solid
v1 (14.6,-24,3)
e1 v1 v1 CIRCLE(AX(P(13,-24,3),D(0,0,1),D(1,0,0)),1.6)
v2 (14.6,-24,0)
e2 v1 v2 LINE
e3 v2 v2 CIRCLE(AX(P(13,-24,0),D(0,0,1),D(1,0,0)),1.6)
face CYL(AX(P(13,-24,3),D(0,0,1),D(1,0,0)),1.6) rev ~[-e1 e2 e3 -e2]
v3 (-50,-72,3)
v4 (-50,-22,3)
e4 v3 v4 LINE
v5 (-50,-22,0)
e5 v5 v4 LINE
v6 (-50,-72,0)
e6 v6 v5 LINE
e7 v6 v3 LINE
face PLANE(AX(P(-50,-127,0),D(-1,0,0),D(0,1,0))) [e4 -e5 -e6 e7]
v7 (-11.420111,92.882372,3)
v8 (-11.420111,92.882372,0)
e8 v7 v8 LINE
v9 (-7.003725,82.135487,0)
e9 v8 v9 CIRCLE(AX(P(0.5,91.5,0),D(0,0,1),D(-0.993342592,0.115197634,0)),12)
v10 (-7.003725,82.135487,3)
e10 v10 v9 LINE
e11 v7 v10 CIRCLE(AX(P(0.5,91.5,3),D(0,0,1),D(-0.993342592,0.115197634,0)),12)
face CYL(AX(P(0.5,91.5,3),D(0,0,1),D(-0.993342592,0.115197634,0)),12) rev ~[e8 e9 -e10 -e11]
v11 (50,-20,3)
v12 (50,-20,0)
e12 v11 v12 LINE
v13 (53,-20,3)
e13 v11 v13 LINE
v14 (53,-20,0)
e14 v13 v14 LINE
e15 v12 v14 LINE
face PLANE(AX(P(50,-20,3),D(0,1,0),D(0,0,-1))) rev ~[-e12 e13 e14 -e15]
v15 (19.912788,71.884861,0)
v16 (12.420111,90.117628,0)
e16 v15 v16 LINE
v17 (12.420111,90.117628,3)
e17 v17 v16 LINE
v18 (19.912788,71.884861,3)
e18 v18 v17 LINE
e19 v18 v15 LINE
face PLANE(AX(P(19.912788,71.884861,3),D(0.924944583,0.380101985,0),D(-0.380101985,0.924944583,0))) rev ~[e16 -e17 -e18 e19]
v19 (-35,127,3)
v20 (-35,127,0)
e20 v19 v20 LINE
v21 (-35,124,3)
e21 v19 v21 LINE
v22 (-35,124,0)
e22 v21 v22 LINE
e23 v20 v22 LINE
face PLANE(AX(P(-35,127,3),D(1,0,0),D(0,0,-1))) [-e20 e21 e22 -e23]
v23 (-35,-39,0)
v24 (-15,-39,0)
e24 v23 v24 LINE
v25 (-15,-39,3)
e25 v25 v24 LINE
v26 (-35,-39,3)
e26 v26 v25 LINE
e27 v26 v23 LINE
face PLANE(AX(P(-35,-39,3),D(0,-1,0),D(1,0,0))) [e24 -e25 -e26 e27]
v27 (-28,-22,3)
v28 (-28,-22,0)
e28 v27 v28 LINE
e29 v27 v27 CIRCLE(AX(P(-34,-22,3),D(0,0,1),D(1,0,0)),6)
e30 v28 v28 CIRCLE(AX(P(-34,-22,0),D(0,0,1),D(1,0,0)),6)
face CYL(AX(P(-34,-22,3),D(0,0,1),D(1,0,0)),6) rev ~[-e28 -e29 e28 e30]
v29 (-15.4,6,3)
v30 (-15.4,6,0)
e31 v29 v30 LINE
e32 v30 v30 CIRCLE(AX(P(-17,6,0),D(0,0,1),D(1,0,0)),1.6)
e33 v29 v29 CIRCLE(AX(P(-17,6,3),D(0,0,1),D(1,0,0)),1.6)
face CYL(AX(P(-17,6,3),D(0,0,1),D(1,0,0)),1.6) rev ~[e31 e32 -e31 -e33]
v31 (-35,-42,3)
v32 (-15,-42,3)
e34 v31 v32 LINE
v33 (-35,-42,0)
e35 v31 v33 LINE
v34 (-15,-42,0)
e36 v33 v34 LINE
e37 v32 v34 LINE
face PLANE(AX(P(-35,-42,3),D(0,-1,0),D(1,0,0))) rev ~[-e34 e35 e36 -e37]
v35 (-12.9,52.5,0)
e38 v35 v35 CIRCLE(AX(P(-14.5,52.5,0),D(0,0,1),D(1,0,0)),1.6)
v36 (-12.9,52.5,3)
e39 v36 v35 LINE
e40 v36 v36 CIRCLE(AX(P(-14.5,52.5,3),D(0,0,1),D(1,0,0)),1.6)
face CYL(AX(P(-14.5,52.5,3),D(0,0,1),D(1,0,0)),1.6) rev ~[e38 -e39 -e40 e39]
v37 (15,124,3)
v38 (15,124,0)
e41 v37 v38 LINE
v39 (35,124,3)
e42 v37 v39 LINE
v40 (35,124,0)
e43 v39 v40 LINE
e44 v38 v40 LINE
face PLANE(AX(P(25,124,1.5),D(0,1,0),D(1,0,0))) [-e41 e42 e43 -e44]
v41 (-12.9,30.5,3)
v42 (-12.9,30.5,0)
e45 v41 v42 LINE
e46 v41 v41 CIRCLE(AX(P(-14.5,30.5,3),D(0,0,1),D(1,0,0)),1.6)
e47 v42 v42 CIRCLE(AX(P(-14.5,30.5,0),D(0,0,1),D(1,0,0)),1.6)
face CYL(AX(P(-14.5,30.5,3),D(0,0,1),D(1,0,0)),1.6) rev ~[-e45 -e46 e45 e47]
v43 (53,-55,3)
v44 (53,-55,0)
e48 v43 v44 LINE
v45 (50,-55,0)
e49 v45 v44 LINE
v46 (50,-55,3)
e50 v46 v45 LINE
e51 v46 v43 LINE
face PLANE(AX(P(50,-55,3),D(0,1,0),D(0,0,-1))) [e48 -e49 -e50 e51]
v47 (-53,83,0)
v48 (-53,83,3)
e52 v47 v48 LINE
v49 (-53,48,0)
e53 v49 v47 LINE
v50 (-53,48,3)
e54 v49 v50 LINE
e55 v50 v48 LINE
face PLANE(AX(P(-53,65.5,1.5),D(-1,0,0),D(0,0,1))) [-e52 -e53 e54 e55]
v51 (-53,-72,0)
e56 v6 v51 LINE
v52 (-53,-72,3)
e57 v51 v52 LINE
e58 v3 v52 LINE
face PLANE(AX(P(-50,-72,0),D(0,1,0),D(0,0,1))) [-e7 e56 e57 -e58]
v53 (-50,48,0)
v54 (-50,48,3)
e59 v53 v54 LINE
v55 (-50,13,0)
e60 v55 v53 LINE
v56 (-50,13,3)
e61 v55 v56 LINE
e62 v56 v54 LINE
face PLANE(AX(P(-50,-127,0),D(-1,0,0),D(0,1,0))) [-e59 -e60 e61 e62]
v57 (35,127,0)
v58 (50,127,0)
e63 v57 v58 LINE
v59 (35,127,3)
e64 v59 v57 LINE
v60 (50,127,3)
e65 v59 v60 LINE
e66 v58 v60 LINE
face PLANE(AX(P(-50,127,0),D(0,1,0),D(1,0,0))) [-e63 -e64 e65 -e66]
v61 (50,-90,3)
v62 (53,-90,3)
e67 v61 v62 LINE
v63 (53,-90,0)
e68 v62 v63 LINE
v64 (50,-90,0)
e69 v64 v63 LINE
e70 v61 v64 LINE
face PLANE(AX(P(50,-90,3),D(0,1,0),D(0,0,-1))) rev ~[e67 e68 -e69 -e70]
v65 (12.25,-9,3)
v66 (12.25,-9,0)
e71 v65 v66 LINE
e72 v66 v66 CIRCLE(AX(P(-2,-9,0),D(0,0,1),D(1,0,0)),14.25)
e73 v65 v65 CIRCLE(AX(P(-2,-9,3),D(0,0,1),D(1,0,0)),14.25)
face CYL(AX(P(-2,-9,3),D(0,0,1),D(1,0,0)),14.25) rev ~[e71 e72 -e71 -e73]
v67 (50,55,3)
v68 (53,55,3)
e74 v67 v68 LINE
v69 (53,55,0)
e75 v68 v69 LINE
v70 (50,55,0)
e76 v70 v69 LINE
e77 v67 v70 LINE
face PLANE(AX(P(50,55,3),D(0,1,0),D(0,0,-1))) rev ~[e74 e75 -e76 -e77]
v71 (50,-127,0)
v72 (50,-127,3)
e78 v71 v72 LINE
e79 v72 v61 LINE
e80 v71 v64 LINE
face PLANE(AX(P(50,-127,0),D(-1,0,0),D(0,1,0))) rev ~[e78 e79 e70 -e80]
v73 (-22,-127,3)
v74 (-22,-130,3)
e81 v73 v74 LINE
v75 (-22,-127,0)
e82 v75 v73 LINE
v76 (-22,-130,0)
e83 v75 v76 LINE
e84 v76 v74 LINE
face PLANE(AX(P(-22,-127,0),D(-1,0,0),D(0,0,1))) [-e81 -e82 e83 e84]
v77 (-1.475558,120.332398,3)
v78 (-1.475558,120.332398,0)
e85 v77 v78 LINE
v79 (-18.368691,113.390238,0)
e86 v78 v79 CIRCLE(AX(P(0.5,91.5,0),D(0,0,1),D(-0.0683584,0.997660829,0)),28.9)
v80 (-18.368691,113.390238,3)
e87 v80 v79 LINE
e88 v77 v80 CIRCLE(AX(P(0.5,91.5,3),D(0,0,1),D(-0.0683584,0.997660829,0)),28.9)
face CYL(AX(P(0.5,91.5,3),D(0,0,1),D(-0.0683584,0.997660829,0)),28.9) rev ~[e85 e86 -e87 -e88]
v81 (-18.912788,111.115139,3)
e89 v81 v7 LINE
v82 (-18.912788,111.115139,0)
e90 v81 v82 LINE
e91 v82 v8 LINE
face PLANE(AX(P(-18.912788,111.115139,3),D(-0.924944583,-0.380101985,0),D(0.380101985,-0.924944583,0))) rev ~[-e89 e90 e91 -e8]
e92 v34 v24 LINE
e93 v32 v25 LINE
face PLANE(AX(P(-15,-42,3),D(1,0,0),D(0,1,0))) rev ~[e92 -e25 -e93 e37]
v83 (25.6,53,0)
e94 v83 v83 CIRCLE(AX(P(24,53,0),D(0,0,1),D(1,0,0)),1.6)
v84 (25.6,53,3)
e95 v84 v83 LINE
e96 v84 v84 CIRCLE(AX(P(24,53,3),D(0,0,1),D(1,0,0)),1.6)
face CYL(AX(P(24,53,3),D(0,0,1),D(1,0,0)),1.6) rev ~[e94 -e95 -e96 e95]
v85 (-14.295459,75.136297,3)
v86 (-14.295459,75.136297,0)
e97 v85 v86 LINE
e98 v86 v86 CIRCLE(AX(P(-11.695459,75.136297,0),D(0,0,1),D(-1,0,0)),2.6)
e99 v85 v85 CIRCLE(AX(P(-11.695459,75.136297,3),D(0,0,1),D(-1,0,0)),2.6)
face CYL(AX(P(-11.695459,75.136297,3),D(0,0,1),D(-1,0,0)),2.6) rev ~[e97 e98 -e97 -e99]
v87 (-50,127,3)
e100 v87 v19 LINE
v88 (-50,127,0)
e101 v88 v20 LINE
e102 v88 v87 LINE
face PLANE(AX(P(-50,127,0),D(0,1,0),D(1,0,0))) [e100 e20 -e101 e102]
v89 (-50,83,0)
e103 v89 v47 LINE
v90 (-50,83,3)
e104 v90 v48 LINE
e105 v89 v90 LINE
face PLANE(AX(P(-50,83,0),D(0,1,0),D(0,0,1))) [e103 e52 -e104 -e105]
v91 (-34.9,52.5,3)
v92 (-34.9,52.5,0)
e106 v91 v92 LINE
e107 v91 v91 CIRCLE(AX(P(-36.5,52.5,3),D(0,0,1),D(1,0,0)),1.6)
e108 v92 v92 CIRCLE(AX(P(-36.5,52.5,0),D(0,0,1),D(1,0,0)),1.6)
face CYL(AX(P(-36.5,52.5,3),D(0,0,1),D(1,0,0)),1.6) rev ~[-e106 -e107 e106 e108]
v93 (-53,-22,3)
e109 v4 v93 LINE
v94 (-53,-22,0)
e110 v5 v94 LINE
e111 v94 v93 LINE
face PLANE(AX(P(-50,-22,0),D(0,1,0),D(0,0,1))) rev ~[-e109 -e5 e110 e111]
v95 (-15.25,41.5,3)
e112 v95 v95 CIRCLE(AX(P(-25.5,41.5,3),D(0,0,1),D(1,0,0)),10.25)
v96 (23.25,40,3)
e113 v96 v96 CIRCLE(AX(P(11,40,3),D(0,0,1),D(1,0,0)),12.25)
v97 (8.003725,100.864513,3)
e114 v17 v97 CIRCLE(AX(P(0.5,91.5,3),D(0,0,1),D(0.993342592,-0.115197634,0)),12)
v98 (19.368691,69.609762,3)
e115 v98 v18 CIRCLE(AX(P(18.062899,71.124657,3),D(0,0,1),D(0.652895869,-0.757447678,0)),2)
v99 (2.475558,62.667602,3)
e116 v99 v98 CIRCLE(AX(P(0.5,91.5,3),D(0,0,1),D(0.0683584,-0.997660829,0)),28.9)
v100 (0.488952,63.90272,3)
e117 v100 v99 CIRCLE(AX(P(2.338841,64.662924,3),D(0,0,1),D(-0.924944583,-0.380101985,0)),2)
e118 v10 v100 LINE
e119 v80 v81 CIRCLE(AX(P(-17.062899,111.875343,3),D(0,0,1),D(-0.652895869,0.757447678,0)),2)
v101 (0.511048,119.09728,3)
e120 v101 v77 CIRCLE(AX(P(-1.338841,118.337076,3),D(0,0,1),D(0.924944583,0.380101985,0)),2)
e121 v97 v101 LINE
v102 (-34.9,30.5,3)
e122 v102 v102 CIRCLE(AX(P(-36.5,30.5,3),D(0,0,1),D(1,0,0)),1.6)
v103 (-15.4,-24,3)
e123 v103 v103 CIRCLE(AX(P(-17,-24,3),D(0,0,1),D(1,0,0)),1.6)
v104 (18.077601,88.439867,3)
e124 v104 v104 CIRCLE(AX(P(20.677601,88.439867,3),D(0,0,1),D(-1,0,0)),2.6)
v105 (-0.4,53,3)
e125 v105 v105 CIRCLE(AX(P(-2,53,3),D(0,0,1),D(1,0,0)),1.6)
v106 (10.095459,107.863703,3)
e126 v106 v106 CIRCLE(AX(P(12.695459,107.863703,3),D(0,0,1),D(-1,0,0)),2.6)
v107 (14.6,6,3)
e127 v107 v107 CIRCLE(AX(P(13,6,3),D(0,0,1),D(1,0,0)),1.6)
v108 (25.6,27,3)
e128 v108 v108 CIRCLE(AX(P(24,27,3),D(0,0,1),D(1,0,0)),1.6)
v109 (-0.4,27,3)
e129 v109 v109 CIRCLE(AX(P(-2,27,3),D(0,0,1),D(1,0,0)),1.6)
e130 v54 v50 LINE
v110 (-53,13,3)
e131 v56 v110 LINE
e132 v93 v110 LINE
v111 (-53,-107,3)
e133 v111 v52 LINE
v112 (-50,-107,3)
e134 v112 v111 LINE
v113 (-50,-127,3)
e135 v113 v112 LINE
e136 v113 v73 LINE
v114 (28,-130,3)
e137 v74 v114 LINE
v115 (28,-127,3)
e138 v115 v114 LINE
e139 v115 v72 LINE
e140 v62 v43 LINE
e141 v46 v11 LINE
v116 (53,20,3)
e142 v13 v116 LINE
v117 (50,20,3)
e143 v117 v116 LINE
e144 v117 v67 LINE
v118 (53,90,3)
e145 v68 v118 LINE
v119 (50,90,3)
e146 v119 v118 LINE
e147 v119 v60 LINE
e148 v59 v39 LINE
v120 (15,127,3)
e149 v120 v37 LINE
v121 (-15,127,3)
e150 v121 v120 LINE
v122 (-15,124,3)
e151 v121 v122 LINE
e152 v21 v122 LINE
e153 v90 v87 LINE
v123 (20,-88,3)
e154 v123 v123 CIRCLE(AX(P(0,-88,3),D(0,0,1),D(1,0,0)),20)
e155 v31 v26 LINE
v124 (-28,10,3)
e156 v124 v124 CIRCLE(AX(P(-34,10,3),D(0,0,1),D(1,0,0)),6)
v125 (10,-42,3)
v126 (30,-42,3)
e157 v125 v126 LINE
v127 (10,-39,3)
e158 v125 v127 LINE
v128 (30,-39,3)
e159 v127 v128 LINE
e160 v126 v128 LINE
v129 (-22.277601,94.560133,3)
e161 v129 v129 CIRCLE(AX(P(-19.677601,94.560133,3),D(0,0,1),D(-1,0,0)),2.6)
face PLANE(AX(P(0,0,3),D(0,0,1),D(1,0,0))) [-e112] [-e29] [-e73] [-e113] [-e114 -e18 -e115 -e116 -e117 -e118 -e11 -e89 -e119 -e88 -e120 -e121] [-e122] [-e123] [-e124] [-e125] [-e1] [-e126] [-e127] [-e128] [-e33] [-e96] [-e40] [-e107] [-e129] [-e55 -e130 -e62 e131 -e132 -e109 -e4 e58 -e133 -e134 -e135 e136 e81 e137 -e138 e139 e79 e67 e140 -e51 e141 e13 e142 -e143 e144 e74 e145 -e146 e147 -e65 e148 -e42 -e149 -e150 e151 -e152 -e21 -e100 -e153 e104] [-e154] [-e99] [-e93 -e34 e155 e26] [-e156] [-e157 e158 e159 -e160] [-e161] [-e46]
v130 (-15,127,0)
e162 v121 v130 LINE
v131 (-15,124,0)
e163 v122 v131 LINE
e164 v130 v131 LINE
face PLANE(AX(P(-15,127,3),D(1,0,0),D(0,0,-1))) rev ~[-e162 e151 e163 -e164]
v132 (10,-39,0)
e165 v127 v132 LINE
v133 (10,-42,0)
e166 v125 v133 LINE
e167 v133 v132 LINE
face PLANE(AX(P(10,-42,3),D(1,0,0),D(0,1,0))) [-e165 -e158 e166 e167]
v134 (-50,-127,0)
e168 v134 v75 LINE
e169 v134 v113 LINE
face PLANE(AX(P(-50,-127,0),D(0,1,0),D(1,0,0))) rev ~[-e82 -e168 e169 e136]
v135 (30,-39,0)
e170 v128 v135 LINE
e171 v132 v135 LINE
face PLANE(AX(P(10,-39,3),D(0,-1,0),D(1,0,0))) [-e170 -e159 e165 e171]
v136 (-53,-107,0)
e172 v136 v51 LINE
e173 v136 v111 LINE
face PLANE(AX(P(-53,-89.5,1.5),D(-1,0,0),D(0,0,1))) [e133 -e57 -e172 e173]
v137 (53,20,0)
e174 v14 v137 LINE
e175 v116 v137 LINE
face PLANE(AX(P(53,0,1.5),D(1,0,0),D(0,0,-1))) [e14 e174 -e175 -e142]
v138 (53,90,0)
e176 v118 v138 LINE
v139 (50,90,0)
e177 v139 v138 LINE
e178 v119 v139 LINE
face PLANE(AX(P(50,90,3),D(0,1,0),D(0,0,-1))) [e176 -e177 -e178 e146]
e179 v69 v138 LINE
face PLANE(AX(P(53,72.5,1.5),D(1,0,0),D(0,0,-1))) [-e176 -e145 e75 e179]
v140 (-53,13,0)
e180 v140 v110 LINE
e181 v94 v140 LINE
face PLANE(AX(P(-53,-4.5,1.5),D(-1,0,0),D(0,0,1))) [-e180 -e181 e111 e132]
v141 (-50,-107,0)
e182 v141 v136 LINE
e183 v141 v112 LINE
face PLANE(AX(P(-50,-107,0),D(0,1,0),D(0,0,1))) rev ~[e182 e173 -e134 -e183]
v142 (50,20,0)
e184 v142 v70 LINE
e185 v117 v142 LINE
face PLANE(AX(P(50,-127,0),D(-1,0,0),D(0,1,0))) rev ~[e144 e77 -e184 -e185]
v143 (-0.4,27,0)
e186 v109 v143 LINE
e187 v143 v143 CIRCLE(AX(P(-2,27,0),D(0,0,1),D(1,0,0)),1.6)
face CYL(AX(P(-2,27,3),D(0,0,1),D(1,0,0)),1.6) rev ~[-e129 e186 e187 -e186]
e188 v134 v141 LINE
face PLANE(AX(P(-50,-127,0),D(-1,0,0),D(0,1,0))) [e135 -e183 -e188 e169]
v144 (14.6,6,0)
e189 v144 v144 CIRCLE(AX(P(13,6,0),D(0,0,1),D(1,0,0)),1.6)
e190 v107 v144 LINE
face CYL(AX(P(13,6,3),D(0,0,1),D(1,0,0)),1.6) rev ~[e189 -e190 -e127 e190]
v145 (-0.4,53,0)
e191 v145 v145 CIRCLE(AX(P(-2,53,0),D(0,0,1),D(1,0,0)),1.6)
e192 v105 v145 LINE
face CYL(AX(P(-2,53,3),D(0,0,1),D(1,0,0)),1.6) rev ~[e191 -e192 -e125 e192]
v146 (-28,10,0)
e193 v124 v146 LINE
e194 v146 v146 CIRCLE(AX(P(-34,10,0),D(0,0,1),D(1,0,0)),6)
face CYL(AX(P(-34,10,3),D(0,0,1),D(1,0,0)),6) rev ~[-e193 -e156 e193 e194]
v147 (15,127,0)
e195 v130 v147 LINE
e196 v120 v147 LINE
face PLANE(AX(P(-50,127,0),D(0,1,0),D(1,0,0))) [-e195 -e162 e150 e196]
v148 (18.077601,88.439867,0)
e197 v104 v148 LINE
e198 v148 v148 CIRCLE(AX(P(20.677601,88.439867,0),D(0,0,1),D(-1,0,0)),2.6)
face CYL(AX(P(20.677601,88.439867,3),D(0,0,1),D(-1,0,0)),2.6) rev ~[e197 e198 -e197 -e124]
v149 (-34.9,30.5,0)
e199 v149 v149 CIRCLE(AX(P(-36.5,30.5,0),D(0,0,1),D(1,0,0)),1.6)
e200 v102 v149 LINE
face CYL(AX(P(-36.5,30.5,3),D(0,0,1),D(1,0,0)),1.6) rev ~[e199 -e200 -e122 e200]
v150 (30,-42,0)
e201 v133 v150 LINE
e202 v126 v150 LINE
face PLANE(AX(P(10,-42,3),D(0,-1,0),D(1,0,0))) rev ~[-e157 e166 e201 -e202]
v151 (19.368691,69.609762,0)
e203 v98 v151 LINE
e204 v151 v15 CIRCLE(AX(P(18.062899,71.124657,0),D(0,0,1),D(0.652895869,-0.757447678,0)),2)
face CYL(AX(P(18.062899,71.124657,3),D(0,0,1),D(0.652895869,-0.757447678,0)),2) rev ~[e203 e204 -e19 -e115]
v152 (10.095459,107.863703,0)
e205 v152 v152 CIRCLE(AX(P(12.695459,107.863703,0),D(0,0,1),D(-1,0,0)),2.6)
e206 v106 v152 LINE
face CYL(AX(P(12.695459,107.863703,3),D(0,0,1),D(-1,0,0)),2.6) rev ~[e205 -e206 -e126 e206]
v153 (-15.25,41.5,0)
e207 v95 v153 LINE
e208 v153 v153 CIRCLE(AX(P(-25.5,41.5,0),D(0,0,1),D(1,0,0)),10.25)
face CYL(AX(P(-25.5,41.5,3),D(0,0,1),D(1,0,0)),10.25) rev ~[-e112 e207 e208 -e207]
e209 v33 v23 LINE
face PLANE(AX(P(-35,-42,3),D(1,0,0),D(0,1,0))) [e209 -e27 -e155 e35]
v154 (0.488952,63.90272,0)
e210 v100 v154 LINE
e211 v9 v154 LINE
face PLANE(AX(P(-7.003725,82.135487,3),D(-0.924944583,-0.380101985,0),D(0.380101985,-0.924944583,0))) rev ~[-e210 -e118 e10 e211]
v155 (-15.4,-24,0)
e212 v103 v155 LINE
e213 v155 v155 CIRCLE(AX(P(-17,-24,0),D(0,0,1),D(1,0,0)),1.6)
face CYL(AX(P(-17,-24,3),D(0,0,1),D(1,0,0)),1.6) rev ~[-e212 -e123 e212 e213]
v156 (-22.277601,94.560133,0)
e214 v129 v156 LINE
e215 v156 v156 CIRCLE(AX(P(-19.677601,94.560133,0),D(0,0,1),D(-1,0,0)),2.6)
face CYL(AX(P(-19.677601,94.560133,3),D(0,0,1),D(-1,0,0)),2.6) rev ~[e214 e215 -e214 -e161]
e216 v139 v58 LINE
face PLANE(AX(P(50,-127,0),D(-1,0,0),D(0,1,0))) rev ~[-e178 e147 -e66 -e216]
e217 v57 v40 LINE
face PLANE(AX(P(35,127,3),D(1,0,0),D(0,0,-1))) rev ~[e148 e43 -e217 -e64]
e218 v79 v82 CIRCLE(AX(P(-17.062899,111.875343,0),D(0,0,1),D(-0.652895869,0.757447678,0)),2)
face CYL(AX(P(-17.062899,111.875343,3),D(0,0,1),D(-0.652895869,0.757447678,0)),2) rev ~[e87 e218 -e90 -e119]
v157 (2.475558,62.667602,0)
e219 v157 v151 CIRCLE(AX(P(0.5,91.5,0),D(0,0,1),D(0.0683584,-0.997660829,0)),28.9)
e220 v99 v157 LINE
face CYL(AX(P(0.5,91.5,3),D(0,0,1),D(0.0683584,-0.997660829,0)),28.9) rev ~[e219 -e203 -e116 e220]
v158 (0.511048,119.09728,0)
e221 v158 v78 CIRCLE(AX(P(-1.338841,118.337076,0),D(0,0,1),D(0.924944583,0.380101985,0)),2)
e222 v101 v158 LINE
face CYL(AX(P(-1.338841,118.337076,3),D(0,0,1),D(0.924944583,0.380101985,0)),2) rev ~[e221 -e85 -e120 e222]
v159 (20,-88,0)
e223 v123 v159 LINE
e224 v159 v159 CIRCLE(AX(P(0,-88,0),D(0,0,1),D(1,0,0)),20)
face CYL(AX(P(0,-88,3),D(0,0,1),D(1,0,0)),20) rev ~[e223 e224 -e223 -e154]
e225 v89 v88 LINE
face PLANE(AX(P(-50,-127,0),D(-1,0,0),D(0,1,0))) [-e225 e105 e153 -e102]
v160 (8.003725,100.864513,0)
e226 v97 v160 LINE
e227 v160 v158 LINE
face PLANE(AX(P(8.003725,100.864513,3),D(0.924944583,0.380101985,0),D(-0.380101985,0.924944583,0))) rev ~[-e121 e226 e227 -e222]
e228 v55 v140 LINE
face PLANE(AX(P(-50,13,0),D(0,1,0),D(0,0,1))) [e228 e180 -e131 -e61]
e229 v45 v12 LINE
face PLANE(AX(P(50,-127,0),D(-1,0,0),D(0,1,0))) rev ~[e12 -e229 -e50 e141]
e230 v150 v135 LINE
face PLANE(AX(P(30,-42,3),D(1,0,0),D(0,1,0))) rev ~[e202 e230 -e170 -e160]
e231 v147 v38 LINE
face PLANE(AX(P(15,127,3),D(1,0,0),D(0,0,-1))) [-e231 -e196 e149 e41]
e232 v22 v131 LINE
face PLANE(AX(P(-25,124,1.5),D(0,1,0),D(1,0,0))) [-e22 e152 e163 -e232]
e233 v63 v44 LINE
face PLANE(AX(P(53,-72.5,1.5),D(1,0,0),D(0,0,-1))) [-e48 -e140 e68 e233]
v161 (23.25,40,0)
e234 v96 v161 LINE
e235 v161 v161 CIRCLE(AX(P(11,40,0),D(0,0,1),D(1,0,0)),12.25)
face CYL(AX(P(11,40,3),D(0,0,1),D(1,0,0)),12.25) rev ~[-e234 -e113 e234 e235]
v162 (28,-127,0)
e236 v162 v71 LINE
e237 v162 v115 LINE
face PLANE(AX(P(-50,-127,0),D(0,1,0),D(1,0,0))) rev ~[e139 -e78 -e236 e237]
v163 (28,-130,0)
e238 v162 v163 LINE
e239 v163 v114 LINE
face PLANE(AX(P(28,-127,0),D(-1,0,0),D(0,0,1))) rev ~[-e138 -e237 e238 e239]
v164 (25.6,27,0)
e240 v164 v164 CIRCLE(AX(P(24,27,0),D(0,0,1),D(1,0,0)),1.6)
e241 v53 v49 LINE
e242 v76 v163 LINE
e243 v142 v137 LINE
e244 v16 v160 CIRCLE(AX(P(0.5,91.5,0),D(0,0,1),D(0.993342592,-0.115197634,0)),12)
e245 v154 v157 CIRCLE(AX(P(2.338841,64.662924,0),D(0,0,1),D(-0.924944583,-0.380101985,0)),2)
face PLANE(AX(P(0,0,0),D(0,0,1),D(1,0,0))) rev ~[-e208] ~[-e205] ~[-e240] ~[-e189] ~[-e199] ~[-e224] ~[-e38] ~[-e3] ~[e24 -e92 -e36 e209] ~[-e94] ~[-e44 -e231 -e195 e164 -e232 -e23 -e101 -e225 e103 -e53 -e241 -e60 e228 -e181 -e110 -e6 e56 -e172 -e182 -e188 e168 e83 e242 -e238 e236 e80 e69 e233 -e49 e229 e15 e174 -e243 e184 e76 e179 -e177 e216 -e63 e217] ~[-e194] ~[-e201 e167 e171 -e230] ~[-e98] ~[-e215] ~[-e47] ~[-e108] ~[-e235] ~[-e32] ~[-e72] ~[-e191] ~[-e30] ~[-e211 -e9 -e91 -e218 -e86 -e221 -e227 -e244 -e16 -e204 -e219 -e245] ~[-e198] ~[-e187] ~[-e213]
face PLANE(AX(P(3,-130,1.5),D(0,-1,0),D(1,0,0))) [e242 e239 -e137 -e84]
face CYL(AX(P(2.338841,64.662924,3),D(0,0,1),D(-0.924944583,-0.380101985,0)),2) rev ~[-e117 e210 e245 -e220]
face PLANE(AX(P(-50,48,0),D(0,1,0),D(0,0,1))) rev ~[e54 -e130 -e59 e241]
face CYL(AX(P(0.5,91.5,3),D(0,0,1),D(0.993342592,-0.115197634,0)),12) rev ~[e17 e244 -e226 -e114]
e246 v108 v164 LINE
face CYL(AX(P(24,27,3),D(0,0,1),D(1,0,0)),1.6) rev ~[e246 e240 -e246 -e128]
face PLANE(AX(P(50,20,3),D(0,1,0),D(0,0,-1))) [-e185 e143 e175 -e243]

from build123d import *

# Parameters (mm, degrees)
SKETCH1_W           = 100
SKETCH1_H           = 254
BOSS_EXTRUDE1_DEPTH = 3
SKETCH2_W           = 3
SKETCH2_H           = 35
SKETCH2_H_2         = 40
BOSS_EXTRUDE2_DEPTH = 3
SKETCH3_W           = 20
SKETCH3_H           = 3
CUT_EXTRUDE1_DEPTH  = 3
SKETCH4_W           = 20
SKETCH4_H           = 3
CUT_EXTRUDE2_DEPTH  = 3
SKETCH5_R           = 20
SKETCH5_R_2         = 10.25
SKETCH5_R_3         = 1.6
SKETCH5_R_4         = 14.25
SKETCH5_R_5         = 12.25
SKETCH5_R_6         = 2.6
SKETCH5_R_7         = 6
CUT_EXTRUDE3_DEPTH  = 3
SKETCH6_W           = 50
SKETCH6_H           = 3
BOSS_EXTRUDE3_DEPTH = 3
SKETCH8_W           = 3
SKETCH8_H           = 35
BOSS_EXTRUDE4_DEPTH = 3


with BuildPart() as part:
    # Sketch1 → Boss-Extrude1 (new body)
    with BuildSketch(Plane.XY):
        Rectangle(SKETCH1_W, SKETCH1_H)
    extrude(amount=BOSS_EXTRUDE1_DEPTH)

    # Sketch2 → Boss-Extrude2 (add)
    with BuildSketch(Plane(origin=(50, 0, 0), x_dir=(0, 0, -1), z_dir=(1, 0, 0))):
        with Locations((-1.5, 72.5)):
            Rectangle(SKETCH2_W, SKETCH2_H)
        with Locations((-1.5, 0)):
            Rectangle(SKETCH2_W, SKETCH2_H_2)
        with Locations((-1.5, -72.5)):
            Rectangle(SKETCH2_W, SKETCH2_H)
    extrude(amount=BOSS_EXTRUDE2_DEPTH)

    # Sketch3 → Cut-Extrude1 (cut)
    with BuildSketch(Plane(origin=(0, 127, 0), x_dir=(1, 0, 0), z_dir=(0, 1, 0))):
        with Locations((25, -1.5)):
            Rectangle(SKETCH3_W, SKETCH3_H)
        with Locations((-25, -1.5)):
            Rectangle(SKETCH3_W, SKETCH3_H)
    extrude(amount=-CUT_EXTRUDE1_DEPTH, mode=Mode.SUBTRACT)

    # Sketch4 → Cut-Extrude2 (cut)
    with BuildSketch(Plane.XY.offset(3)):
        with Locations((-25, -40.5)):
            Rectangle(SKETCH4_W, SKETCH4_H)
        with Locations((20, -40.5)):
            Rectangle(SKETCH4_W, SKETCH4_H)
    extrude(amount=-CUT_EXTRUDE2_DEPTH, mode=Mode.SUBTRACT)

    # Sketch5 → Cut-Extrude3 (cut)
    with BuildSketch(Plane.XY.offset(3)):
        with Locations((0, -88)):
            Circle(SKETCH5_R)
        with Locations((-25.5, 41.5)):
            Circle(SKETCH5_R_2)
        with Locations((-36.5, 52.5)):
            Circle(SKETCH5_R_3)
        with Locations((-14.5, 52.5)):
            Circle(SKETCH5_R_3)
        with Locations((-36.5, 30.5)):
            Circle(SKETCH5_R_3)
        with Locations((-14.5, 30.5)):
            Circle(SKETCH5_R_3)
        with Locations((-17, 6)):
            Circle(SKETCH5_R_3)
        with Locations((13, 6)):
            Circle(SKETCH5_R_3)
        with Locations((-17, -24)):
            Circle(SKETCH5_R_3)
        with Locations((13, -24)):
            Circle(SKETCH5_R_3)
        with Locations((-2, -9)):
            Circle(SKETCH5_R_4)
        with Locations((11, 40)):
            Circle(SKETCH5_R_5)
        with Locations((-2, 53)):
            Circle(SKETCH5_R_3)
        with Locations((24, 53)):
            Circle(SKETCH5_R_3)
        with Locations((24, 27)):
            Circle(SKETCH5_R_3)
        with Locations((-2, 27)):
            Circle(SKETCH5_R_3)
        with Locations(Location((-19.67760104, 94.560133375, 0), (0, 0, 180))):
            Circle(SKETCH5_R_6)
        with Locations(Location((-11.69545935, 75.136297141, 0), (0, 0, 180))):
            Circle(SKETCH5_R_6)
        with Locations(Location((12.69545935, 107.863702859, 0), (0, 0, 180))):
            Circle(SKETCH5_R_6)
        with Locations(Location((20.67760104, 88.439866625, 0), (0, 0, 180))):
            Circle(SKETCH5_R_6)
        with Locations((-34, 10)):
            Circle(SKETCH5_R_7)
        with Locations((-34, -22)):
            Circle(SKETCH5_R_7)
        with BuildLine():
            Line((8.003725129, 100.864513292), (0.511048213, 119.097280263))
            ThreePointArc((0.511048213, 119.097280263), (-0.28284909, 120.035570092), (-1.475557752, 120.33239795))
            ThreePointArc((-1.475557752, 120.33239795), (-10.484947373, 118.230898436), (-18.368690592, 113.3902379))
            ThreePointArc((-18.368690592, 113.3902379), (-19.008046594, 112.340530973), (-18.912788021, 111.115138573))
            Line((-18.912788021, 111.115138573), (-11.420111105, 92.882371602))
            ThreePointArc((-11.420111105, 92.882371602), (-10.599334991, 86.938776177), (-7.003725129, 82.135486708))
            Line((-7.003725129, 82.135486708), (0.488951787, 63.902719737))
            ThreePointArc((0.488951787, 63.902719737), (1.28284909, 62.964429908), (2.475557752, 62.66760205))
            ThreePointArc((2.475557752, 62.66760205), (11.484947373, 64.769101564), (19.368690592, 69.6097621))
            ThreePointArc((19.368690592, 69.6097621), (20.008046594, 70.659469027), (19.912788021, 71.884861427))
            Line((19.912788021, 71.884861427), (12.420111105, 90.117628398))
            ThreePointArc((12.420111105, 90.117628398), (11.599334991, 96.061223823), (8.003725129, 100.864513292))
        make_face()
    extrude(amount=-CUT_EXTRUDE3_DEPTH, mode=Mode.SUBTRACT)

    # Sketch6 → Boss-Extrude3 (add)
    with BuildSketch(Plane.XZ.offset(127)):
        with Locations((3, 1.5)):
            Rectangle(SKETCH6_W, SKETCH6_H)
    extrude(amount=BOSS_EXTRUDE3_DEPTH)

    # Sketch8 → Boss-Extrude4 (add)
    with BuildSketch(Plane.ZY.offset(50)):
        with Locations((1.5, -89.5)):
            Rectangle(SKETCH8_W, SKETCH8_H)
        with Locations((1.5, -4.5)):
            Rectangle(SKETCH8_W, SKETCH8_H)
        with Locations((1.5, 65.5)):
            Rectangle(SKETCH8_W, SKETCH8_H)
    extrude(amount=BOSS_EXTRUDE4_DEPTH)


solid = part.part
